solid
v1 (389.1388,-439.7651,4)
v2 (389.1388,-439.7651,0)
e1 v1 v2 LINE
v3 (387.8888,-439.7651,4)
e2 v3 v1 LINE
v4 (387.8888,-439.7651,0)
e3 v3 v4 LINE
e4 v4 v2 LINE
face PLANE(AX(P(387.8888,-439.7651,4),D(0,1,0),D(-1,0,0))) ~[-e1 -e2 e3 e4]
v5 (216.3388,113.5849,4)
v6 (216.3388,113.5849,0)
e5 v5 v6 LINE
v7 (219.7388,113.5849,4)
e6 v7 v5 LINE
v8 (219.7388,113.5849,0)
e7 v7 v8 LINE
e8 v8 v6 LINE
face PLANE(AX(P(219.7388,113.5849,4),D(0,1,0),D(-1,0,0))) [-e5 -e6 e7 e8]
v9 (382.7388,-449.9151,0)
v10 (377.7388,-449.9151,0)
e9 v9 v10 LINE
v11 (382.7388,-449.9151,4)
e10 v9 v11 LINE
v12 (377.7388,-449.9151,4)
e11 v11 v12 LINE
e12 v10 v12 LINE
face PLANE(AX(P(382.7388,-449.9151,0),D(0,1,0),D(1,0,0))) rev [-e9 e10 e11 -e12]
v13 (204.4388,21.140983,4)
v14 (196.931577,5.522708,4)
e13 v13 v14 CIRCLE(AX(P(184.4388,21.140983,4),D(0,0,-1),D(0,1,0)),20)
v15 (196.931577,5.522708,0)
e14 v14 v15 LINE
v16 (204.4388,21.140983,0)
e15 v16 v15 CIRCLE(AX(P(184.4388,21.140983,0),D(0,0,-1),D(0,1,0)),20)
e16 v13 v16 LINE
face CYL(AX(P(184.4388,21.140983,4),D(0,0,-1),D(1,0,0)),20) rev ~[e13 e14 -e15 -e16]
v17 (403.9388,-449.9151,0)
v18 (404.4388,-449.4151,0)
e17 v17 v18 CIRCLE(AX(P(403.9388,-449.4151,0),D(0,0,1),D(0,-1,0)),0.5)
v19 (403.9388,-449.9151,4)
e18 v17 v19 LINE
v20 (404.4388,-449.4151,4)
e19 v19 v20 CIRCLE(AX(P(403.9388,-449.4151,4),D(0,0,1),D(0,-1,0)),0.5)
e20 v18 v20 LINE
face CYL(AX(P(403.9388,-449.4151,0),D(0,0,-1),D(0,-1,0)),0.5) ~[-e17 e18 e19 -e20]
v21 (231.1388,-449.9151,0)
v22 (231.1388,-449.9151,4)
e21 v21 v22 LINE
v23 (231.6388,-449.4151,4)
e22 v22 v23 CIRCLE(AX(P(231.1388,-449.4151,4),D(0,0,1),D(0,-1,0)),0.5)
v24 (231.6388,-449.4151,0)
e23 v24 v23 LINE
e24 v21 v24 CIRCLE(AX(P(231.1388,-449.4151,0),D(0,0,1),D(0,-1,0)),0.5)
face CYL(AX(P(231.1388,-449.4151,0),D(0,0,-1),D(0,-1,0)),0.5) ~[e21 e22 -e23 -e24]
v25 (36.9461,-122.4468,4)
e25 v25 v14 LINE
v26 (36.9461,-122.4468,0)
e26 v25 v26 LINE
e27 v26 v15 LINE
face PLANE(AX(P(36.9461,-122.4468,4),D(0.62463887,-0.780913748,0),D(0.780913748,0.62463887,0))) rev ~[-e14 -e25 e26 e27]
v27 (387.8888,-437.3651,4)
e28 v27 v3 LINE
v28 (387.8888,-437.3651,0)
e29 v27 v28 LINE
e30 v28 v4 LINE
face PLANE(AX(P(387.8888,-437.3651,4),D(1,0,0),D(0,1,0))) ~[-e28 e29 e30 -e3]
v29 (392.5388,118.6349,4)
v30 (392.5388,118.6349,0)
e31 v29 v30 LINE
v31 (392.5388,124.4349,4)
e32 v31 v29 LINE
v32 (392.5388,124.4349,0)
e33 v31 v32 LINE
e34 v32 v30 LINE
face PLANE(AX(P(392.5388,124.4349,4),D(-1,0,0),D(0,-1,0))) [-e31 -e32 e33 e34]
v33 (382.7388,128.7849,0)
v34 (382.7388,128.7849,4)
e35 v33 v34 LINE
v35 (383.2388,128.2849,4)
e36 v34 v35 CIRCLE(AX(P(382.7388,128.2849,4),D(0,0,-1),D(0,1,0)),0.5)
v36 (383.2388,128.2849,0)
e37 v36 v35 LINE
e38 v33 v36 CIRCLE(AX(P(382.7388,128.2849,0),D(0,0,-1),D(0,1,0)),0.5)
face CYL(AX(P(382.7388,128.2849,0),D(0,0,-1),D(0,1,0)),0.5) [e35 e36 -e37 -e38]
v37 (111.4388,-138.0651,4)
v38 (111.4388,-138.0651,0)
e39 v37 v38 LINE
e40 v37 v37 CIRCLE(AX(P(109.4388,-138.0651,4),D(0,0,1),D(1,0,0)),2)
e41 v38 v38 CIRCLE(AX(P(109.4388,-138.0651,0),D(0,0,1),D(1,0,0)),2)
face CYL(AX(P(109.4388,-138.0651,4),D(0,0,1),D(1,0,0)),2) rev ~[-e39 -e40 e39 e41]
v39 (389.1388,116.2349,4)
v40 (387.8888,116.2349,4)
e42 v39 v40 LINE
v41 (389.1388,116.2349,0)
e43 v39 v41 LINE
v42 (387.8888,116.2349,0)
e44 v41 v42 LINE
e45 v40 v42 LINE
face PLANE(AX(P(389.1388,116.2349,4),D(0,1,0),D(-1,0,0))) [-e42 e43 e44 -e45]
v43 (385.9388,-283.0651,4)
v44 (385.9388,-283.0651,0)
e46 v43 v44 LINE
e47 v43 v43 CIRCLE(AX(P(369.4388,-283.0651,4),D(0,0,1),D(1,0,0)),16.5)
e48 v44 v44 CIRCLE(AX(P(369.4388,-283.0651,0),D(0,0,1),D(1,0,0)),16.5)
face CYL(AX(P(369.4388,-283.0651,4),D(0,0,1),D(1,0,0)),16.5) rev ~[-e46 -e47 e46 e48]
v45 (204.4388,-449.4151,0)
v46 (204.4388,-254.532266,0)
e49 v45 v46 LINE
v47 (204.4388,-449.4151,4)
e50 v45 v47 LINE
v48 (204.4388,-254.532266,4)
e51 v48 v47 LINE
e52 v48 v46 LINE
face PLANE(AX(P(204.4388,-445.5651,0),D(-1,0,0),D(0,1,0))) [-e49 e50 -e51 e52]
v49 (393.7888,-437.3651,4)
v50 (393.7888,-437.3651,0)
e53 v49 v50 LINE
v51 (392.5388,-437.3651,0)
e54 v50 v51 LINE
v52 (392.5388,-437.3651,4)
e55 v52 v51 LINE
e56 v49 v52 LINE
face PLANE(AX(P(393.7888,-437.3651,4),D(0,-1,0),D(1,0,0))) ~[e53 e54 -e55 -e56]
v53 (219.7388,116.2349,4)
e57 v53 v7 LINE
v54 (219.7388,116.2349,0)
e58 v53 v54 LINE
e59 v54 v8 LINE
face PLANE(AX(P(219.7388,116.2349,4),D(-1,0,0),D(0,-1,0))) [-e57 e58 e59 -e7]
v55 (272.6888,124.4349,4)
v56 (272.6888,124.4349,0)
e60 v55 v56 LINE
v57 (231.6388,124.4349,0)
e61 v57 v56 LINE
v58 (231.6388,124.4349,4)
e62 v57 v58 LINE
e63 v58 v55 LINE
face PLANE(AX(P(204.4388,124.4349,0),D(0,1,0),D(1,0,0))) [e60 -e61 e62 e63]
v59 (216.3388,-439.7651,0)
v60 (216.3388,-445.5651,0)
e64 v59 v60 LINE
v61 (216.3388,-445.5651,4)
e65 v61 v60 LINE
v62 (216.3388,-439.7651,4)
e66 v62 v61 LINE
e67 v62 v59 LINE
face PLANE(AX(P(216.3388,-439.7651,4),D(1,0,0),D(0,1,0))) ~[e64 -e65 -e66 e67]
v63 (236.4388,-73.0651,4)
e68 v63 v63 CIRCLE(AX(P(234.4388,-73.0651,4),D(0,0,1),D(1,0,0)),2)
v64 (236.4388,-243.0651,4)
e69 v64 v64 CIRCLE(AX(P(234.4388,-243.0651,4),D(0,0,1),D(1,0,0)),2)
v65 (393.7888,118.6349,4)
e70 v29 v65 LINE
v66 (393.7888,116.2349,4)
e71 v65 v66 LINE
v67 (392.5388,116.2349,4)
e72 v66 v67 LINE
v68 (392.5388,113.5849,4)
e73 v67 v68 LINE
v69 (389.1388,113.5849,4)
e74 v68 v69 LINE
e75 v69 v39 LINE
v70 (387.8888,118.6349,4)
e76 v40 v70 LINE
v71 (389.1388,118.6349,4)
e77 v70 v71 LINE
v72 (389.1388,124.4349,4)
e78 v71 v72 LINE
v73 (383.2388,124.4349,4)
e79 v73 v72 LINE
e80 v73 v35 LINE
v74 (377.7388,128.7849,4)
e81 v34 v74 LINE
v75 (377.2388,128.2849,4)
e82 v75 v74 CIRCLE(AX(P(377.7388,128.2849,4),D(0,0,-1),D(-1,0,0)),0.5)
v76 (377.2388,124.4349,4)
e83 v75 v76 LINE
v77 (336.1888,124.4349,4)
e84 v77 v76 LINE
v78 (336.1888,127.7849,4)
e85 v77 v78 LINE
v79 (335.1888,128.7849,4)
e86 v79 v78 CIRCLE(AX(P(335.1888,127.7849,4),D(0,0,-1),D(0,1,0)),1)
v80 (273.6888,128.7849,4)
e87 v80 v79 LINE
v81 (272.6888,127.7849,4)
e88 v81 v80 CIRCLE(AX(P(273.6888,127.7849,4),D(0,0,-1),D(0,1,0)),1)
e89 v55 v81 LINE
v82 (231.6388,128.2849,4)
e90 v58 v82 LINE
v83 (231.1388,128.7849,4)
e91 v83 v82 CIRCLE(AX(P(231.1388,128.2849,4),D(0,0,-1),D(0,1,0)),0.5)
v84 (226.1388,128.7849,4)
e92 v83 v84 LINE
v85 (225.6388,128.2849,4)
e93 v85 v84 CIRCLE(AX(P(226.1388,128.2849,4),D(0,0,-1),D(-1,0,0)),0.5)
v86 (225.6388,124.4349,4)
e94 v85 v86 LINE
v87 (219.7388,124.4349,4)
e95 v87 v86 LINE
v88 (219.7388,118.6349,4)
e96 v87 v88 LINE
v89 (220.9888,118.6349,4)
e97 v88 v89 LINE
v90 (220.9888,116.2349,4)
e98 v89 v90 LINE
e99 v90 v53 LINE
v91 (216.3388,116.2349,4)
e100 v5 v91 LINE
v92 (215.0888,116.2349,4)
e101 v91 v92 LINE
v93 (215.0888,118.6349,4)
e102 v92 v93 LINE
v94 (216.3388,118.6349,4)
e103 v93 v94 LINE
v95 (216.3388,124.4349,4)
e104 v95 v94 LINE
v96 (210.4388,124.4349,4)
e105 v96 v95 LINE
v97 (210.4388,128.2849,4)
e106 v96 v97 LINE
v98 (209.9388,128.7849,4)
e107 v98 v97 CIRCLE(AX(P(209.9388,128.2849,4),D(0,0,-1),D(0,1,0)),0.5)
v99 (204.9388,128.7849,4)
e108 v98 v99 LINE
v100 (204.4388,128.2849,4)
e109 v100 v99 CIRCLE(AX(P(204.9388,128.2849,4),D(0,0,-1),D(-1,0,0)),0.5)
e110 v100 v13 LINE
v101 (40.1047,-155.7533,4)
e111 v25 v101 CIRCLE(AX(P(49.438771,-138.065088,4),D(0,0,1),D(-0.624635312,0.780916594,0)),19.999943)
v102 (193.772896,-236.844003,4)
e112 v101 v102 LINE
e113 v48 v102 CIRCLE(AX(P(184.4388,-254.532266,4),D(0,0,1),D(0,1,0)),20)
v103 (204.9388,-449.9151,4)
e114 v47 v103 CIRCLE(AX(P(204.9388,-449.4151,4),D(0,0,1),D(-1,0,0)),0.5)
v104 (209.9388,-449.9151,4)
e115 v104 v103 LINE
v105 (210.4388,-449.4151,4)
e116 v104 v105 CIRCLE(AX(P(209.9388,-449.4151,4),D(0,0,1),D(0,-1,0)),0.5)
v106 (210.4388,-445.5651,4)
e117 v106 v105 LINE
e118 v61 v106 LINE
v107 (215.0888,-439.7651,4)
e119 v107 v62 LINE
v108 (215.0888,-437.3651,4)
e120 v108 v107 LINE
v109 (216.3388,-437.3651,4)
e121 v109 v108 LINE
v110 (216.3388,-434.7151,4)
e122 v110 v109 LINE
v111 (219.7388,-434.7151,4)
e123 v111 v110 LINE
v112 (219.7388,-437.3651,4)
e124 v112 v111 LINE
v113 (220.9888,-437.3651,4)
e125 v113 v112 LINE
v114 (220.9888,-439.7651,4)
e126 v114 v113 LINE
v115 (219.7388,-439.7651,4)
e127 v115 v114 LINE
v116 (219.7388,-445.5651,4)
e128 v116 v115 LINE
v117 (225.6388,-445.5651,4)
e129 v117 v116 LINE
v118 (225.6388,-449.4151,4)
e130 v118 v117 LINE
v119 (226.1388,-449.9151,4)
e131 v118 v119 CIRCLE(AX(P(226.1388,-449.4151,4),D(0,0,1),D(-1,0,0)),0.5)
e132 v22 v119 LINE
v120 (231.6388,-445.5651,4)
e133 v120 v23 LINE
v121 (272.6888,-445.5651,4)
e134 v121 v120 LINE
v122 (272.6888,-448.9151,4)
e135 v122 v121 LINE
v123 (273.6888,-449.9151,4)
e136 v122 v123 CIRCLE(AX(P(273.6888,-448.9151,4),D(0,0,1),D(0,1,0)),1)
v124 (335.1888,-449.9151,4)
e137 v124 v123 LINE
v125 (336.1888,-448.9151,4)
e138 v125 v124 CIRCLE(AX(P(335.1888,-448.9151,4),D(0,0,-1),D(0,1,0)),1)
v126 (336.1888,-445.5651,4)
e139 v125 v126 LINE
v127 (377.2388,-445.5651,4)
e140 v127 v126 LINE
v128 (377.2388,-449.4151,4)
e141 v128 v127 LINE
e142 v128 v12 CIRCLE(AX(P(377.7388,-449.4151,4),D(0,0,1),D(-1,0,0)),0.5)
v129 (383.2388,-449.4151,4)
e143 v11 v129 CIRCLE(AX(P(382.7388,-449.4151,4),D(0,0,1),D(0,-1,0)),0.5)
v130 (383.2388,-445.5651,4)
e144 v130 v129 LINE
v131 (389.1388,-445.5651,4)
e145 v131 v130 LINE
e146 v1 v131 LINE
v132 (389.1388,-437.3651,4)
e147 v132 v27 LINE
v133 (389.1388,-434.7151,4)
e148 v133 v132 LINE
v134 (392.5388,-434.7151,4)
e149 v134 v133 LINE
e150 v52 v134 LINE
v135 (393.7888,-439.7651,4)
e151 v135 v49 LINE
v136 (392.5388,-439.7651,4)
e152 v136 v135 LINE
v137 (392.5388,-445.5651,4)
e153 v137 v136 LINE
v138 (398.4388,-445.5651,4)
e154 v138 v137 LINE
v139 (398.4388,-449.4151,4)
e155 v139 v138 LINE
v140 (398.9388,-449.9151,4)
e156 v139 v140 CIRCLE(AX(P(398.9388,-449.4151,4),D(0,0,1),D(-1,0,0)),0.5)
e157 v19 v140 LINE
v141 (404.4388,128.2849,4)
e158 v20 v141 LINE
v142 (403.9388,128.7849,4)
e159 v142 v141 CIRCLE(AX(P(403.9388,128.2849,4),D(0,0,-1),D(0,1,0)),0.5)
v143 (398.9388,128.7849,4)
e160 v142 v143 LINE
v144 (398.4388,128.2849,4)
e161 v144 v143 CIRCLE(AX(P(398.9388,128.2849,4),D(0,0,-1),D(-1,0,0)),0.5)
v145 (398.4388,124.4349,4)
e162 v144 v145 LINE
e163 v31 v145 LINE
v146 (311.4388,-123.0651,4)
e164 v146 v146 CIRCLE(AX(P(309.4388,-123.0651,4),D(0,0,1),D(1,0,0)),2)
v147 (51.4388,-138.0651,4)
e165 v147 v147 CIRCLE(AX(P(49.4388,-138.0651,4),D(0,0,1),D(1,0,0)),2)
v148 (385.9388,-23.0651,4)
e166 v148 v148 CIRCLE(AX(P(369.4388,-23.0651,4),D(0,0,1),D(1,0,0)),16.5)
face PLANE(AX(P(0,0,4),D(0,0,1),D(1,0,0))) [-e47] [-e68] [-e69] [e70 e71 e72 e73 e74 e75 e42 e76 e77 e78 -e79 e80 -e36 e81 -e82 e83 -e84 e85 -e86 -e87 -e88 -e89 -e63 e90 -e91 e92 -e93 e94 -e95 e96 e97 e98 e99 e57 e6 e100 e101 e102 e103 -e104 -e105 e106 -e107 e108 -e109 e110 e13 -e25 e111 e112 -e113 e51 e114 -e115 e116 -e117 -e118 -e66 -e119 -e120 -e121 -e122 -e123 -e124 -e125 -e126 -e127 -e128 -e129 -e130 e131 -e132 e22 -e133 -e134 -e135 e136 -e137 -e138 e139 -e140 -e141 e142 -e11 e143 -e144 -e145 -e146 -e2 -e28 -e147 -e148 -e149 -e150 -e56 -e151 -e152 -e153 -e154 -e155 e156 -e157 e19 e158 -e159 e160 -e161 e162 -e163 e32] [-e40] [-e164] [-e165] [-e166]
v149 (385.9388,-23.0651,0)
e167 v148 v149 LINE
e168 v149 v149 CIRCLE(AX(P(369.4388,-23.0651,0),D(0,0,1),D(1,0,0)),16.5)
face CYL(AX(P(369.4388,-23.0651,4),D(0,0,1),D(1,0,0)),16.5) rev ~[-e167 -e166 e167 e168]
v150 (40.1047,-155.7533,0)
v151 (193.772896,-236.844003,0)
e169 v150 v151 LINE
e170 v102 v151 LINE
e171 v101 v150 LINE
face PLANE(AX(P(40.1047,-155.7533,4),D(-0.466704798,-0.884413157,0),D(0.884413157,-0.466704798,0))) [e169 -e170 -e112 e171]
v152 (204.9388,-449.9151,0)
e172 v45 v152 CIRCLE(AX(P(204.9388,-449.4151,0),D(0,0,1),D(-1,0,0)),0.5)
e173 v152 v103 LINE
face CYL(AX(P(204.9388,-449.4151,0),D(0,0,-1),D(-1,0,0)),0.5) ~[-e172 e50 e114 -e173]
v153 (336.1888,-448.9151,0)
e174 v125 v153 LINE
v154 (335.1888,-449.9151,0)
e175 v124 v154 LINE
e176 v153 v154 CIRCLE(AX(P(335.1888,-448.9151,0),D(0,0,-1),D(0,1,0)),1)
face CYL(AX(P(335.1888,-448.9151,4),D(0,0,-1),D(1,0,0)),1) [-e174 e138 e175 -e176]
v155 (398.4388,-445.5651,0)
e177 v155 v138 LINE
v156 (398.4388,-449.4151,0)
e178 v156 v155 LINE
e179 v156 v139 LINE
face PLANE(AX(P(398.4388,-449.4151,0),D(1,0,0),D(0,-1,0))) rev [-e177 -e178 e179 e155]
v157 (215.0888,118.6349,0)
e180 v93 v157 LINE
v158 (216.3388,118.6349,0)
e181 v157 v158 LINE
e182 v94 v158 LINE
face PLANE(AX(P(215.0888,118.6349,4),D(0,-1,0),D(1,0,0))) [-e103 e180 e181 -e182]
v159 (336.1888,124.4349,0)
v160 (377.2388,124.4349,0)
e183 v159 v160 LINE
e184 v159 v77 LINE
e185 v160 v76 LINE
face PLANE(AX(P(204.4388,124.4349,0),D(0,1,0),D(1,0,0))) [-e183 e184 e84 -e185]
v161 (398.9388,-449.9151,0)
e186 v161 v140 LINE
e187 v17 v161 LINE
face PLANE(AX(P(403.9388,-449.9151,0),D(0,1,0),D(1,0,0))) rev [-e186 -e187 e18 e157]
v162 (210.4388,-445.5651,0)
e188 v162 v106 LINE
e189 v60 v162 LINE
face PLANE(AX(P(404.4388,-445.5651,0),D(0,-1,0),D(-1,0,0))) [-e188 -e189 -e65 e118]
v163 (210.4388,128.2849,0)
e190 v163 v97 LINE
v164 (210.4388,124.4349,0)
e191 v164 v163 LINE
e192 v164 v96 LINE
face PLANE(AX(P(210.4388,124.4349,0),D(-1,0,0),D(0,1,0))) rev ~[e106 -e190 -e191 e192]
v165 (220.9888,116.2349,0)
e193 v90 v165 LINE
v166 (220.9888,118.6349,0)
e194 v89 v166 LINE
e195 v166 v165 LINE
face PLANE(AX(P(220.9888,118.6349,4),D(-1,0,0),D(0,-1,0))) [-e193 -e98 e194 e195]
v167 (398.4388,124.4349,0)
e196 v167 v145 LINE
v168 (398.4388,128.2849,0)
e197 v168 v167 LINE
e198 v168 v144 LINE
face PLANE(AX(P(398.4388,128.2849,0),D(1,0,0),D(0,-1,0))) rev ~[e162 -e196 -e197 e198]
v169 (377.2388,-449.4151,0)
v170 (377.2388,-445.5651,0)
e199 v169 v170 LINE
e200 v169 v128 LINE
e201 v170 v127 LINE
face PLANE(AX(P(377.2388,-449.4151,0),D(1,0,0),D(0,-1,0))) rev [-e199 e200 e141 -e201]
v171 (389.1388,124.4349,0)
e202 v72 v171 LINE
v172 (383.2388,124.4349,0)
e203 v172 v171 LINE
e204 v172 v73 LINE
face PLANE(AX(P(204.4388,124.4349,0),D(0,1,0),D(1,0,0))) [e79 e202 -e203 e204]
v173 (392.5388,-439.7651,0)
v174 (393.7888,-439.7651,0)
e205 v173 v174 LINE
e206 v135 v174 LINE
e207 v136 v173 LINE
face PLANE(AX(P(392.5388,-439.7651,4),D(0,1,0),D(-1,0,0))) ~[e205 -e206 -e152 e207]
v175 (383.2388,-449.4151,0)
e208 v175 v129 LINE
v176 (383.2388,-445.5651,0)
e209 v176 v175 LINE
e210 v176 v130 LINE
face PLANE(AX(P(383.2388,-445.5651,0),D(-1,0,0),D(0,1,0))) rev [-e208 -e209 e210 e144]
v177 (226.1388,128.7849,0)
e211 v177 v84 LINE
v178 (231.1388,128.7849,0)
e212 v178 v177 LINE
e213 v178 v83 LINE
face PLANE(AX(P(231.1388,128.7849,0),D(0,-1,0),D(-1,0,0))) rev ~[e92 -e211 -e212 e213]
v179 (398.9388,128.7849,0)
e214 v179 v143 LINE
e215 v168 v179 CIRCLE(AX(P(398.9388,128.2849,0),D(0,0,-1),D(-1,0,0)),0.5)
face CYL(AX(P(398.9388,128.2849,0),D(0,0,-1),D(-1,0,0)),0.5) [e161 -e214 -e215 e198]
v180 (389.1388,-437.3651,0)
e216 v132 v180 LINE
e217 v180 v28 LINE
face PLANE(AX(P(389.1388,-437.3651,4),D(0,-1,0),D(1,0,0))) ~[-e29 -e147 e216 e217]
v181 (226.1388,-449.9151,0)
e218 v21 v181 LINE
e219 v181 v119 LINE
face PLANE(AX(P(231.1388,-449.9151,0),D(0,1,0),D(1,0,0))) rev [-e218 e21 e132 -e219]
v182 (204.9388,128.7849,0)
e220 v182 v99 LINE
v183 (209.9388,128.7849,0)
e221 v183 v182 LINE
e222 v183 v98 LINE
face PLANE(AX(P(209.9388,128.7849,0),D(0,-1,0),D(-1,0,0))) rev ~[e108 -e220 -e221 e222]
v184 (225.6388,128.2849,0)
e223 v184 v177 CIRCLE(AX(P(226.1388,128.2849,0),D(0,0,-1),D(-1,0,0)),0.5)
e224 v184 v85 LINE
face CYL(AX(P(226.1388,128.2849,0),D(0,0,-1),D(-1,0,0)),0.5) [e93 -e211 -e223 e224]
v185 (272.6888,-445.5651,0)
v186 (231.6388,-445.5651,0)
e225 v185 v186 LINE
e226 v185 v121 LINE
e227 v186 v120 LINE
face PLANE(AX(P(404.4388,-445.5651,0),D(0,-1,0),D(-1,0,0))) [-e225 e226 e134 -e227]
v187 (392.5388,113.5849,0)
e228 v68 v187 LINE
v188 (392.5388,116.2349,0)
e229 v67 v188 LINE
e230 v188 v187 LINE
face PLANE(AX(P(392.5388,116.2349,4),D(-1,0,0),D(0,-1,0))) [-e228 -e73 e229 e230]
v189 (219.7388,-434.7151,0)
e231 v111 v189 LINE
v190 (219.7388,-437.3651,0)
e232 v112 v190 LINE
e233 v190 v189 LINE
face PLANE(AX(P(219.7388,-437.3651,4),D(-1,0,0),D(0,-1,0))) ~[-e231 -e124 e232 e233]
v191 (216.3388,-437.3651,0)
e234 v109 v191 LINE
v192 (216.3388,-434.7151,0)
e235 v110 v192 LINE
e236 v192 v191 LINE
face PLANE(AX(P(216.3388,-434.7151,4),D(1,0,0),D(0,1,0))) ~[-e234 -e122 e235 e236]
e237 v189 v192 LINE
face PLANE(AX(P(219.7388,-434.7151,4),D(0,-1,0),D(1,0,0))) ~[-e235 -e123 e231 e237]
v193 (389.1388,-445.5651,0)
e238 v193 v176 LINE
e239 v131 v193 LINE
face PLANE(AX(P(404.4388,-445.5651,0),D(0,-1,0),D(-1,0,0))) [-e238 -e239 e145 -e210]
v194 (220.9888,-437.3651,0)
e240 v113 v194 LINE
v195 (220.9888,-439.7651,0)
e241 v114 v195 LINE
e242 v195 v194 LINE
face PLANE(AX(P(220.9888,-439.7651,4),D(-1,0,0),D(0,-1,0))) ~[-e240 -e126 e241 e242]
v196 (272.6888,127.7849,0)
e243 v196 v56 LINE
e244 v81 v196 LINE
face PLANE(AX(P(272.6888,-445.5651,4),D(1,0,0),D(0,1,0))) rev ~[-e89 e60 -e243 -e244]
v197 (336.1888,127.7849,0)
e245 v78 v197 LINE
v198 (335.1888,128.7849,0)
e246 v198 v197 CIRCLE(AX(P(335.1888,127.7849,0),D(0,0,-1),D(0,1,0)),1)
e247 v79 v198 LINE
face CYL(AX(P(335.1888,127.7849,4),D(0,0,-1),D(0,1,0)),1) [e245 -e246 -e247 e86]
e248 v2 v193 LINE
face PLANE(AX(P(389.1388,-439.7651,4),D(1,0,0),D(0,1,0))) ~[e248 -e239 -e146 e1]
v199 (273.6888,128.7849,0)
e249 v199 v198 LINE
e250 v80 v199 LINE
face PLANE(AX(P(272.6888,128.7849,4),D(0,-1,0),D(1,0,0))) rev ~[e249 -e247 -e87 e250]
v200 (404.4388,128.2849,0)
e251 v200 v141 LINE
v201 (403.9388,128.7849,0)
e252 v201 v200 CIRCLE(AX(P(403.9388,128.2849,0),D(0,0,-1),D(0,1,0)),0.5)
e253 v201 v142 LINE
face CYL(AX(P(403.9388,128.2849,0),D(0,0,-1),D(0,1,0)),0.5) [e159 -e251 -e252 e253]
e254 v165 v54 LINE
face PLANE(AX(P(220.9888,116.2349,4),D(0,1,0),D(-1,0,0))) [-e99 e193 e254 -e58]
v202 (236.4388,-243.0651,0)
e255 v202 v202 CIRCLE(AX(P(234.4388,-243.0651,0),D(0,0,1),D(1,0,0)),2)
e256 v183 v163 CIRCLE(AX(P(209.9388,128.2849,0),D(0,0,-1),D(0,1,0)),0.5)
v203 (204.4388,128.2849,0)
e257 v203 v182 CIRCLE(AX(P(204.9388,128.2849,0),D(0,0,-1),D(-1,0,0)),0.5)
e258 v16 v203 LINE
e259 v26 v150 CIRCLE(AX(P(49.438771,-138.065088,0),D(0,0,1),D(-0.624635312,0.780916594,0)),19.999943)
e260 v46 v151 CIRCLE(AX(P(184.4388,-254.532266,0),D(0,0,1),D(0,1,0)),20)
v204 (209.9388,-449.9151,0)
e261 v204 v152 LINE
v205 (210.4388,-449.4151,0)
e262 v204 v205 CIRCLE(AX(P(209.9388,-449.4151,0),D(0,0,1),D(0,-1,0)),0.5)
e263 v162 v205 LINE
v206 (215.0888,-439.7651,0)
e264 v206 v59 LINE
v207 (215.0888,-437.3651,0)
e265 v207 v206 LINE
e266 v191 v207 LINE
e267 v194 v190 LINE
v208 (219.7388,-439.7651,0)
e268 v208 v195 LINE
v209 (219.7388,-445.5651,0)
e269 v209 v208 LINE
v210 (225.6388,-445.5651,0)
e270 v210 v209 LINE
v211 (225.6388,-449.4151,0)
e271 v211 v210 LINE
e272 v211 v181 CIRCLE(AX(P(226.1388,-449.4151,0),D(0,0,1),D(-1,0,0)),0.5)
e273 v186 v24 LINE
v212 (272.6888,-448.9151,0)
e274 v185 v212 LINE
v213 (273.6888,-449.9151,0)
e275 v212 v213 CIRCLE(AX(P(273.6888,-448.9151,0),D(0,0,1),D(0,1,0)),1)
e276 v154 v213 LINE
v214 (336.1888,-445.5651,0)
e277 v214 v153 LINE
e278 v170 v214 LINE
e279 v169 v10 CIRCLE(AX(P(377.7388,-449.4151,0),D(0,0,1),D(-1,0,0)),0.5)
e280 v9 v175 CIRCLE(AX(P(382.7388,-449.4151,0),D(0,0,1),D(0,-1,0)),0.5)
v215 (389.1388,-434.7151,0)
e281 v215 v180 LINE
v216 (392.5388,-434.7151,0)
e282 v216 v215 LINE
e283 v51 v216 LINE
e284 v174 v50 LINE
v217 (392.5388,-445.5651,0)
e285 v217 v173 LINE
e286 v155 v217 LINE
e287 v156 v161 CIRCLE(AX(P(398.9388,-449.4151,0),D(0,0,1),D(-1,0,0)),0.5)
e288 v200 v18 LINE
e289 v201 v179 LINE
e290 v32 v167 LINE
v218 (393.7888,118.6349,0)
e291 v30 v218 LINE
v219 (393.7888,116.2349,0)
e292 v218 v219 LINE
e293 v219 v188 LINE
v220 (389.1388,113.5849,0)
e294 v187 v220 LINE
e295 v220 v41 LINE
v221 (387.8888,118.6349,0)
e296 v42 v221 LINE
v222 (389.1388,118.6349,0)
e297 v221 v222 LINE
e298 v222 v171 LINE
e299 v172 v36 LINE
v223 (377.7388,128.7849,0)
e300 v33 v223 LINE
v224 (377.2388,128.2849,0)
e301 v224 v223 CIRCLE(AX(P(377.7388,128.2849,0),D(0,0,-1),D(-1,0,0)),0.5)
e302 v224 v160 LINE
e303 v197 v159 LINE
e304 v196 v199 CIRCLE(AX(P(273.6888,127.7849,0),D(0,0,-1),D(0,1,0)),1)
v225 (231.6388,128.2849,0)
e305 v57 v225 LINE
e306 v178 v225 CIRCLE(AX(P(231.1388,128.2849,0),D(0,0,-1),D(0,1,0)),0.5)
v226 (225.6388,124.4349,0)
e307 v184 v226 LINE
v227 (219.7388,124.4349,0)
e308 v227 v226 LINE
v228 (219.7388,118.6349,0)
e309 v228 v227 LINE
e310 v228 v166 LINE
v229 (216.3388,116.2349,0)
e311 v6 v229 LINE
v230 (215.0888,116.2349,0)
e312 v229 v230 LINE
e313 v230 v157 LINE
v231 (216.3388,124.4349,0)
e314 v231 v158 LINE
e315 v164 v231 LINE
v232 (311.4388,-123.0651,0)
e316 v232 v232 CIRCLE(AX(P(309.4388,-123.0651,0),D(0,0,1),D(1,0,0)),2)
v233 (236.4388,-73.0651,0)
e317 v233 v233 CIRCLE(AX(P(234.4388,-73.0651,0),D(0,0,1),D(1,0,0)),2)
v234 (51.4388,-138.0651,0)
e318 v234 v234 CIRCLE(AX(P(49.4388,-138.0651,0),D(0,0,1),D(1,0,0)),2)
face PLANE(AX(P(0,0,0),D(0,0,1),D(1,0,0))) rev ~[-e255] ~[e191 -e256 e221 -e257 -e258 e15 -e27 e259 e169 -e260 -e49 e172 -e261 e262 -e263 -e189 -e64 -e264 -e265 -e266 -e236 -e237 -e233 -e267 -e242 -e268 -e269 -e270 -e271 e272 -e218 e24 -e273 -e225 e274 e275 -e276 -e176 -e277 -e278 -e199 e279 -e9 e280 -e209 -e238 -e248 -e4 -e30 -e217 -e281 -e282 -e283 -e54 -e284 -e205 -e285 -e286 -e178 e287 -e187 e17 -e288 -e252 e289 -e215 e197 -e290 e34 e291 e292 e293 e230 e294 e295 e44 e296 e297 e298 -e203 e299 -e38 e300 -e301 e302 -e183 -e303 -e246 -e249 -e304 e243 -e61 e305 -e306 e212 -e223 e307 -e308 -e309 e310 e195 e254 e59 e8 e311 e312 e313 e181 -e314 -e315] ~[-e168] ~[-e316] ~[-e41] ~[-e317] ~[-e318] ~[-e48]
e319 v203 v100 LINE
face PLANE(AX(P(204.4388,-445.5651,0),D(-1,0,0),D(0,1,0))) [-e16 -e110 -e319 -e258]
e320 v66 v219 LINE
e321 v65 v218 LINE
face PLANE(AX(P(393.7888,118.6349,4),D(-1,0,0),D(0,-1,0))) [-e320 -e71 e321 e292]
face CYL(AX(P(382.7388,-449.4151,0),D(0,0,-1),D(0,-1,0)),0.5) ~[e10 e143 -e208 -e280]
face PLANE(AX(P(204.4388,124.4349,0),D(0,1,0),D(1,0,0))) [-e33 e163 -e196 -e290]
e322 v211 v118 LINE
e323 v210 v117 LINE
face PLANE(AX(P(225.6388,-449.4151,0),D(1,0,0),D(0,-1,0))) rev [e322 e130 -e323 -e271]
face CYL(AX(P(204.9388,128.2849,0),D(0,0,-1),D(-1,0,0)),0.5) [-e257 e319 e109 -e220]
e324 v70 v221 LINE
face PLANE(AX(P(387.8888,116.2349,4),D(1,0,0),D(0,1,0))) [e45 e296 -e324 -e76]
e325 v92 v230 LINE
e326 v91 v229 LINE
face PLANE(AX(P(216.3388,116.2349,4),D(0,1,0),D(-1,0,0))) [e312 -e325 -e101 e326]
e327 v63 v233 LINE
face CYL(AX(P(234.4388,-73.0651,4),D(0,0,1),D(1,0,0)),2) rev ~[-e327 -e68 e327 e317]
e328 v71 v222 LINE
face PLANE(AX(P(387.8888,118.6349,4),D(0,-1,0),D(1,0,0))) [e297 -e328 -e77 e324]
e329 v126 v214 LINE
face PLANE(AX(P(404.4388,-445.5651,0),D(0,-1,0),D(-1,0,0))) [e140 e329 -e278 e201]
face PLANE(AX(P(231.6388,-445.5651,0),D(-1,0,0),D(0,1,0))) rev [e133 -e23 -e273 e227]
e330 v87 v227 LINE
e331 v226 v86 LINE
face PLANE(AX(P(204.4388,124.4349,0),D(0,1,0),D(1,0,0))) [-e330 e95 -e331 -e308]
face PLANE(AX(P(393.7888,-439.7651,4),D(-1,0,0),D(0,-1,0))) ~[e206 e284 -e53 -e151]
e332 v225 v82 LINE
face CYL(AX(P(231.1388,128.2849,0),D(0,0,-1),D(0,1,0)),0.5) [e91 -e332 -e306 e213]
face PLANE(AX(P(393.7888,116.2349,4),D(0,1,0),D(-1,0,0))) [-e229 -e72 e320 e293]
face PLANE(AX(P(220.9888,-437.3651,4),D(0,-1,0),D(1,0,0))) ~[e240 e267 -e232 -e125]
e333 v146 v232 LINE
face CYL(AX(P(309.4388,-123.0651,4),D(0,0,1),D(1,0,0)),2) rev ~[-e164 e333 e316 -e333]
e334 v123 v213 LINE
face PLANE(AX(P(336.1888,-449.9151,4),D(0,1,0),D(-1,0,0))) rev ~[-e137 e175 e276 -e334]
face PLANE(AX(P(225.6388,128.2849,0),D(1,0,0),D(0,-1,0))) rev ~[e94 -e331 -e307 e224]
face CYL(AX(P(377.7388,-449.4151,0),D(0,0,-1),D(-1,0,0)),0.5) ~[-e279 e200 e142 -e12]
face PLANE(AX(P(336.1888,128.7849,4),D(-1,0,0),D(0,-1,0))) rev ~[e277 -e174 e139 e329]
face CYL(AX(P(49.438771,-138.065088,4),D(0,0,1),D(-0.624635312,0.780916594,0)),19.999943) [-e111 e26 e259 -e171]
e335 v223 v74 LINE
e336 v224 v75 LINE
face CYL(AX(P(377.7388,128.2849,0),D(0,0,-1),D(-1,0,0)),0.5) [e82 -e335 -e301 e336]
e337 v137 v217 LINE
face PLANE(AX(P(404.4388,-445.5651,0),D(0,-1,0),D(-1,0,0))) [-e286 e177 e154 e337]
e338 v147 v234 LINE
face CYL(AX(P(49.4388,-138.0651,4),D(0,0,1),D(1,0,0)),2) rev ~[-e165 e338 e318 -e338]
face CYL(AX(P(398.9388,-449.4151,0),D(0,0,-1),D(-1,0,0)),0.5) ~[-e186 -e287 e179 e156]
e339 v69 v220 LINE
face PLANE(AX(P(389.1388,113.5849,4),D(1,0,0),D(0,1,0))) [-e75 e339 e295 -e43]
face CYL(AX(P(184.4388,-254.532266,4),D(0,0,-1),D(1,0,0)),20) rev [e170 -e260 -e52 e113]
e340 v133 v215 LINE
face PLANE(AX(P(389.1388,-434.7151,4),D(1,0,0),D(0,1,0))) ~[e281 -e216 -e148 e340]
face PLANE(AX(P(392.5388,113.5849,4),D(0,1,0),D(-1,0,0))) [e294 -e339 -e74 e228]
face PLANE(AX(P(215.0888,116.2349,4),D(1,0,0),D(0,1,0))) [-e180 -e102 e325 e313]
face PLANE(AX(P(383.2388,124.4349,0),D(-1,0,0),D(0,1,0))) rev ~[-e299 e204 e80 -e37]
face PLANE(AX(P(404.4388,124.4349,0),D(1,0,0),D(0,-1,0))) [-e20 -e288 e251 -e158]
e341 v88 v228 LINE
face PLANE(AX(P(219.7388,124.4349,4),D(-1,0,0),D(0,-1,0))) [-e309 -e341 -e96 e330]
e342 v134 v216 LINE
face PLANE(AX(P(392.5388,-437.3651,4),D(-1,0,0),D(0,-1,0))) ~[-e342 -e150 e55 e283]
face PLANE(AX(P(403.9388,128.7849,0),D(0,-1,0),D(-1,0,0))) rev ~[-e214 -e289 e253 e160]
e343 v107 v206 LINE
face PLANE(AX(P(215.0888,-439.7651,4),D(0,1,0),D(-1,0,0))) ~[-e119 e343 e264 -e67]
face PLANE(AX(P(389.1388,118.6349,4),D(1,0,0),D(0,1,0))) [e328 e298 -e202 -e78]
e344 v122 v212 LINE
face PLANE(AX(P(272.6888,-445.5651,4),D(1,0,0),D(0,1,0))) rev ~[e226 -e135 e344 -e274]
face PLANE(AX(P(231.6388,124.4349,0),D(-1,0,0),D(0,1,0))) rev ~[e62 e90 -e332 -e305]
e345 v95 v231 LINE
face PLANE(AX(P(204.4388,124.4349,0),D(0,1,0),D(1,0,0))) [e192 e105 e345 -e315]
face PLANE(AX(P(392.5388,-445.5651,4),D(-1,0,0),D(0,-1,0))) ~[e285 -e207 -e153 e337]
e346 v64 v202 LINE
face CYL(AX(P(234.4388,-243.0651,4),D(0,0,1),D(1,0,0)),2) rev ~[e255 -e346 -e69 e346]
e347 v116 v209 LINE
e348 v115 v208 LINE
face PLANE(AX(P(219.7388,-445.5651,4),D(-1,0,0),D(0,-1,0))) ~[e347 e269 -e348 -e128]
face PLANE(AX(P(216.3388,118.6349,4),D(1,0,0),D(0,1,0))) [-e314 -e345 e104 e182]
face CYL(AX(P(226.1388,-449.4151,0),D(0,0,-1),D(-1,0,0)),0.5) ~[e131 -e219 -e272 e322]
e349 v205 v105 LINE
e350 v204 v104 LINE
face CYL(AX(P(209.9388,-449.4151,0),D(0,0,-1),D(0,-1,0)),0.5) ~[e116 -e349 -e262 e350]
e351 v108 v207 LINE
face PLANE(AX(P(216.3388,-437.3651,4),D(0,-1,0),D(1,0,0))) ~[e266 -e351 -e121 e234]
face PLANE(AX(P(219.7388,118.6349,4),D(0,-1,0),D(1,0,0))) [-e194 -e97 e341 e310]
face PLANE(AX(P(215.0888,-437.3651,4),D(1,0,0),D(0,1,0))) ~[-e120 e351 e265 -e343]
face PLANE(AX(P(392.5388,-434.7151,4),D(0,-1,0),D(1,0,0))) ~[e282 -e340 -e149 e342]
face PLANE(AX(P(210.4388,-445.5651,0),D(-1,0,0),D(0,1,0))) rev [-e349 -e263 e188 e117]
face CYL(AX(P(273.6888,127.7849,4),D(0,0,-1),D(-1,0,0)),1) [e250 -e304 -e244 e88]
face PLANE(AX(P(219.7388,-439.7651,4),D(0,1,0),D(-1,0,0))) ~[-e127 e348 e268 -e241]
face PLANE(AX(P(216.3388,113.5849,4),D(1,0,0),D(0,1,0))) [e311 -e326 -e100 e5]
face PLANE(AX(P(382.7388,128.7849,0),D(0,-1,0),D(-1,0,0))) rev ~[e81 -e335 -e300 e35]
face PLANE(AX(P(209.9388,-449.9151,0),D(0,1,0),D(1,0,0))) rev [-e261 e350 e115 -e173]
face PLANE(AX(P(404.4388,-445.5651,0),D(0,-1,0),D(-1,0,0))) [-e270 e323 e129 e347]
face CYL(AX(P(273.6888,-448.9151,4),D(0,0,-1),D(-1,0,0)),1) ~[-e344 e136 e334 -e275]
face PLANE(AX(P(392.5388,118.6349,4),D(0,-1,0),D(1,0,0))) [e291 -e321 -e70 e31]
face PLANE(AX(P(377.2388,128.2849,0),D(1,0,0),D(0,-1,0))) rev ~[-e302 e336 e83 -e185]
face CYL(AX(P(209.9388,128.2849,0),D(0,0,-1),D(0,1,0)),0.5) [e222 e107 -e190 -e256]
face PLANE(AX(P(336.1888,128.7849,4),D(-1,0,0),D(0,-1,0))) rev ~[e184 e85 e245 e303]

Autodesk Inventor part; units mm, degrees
ref_plane "YZ Plane" through (0, 0, 0) normal (1, 0, 0) x (0, 1, 0)
ref_plane "XZ Plane" through (0, 0, 0) normal (0, 1, 0) x (-1, 0, 0)
ref_plane "XY Plane" through (0, 0, 0) normal (0, 0, 1) x (1, 0, 0)
sketch "Sketch2" plane through (0, 0, 0) normal (0, 0, 1) x (1, 0, 0)
  line L0 (204.4388, 124.4349) -> (404.4388, 124.4349)
  line L1 (404.4388, 124.4349) -> (404.4388, -445.5651)
  line L2 (404.4388, -445.5651) -> (204.4388, -445.5651)
  line L3 (204.4388, -445.5651) -> (204.4388, 124.4349)
  point P0 (0, 0)
  point P1 (1605.8001, 124.4349)
  point P2 (1605.8004, -445.5651)
  dimension "d0" = 200
extrude "Extrusion1" add sketch "Sketch2" along normal blind 4
sketch "Sketch3" plane through (0, 0, 4) normal (0, 0, 1) x (1, 0, 0)
  arc A0 (204.9388, 128.7849) -> (204.4388, 128.2849) centre (204.9388, 128.2849) ccw projected
  line L0 (204.4388, 124.4349) -> (204.4388, 128.2849) projected
  line L1 (197.563, 124.4349) -> (204.4388, 124.4349) projected
  line L2 (197.563, 109.7813) -> (197.563, 124.4349) projected
  line L3 (238.5147, 109.7813) -> (197.563, 109.7813) projected
  line L4 (238.5147, 124.4349) -> (238.5147, 109.7813) projected
  line L5 (231.6388, 124.4349) -> (238.5147, 124.4349) projected
  line L6 (231.6388, 128.2849) -> (231.6388, 124.4349) projected
  arc A1 (231.6388, 128.2849) -> (231.1388, 128.7849) centre (231.1388, 128.2849) ccw projected
  line L7 (231.1388, 128.7849) -> (226.1388, 128.7849) projected
  arc A2 (226.1388, 128.7849) -> (225.6388, 128.2849) centre (226.1388, 128.2849) ccw projected
  line L8 (225.6388, 124.4349) -> (225.6388, 128.2849) projected
  line L9 (219.7388, 124.4349) -> (225.6388, 124.4349) projected
  line L10 (219.7388, 124.4349) -> (219.7388, 118.6349) projected
  line L11 (219.7388, 118.6349) -> (220.9888, 118.6349) projected
  line L12 (220.9888, 118.6349) -> (220.9888, 116.2349) projected
  line L13 (220.9888, 116.2349) -> (219.7388, 116.2349) projected
  line L14 (219.7388, 116.2349) -> (219.7388, 113.5849) projected
  line L15 (219.7388, 113.5849) -> (216.3388, 113.5849) projected
  line L16 (216.3388, 113.5849) -> (216.3388, 116.2349) projected
  line L17 (216.3388, 116.2349) -> (215.0888, 116.2349) projected
  line L18 (215.0888, 116.2349) -> (215.0888, 118.6349) projected
  line L19 (215.0888, 118.6349) -> (216.3388, 118.6349) projected
  line L20 (216.3388, 118.6349) -> (216.3388, 124.4349) projected
  line L21 (210.4388, 124.4349) -> (216.3388, 124.4349) projected
  line L22 (210.4388, 128.2849) -> (210.4388, 124.4349) projected
  arc A3 (210.4388, 128.2849) -> (209.9388, 128.7849) centre (209.9388, 128.2849) ccw projected
  line L23 (209.9388, 128.7849) -> (204.9388, 128.7849) projected
  arc A4 (377.7388, 128.7849) -> (377.2388, 128.2849) centre (377.7388, 128.2849) ccw projected
  line L24 (377.2388, 124.4349) -> (377.2388, 128.2849) projected
  line L25 (370.363, 124.4349) -> (377.2388, 124.4349) projected
  line L26 (370.363, 109.7813) -> (370.363, 124.4349) projected
  line L27 (411.3147, 109.7813) -> (370.363, 109.7813) projected
  line L28 (411.3147, 124.4349) -> (411.3147, 109.7813) projected
  line L29 (404.4388, 124.4349) -> (411.3147, 124.4349) projected
  line L30 (404.4388, 128.2849) -> (404.4388, 124.4349) projected
  arc A5 (404.4388, 128.2849) -> (403.9388, 128.7849) centre (403.9388, 128.2849) ccw projected
  line L31 (403.9388, 128.7849) -> (398.9388, 128.7849) projected
  arc A6 (398.9388, 128.7849) -> (398.4388, 128.2849) centre (398.9388, 128.2849) ccw projected
  line L32 (398.4388, 124.4349) -> (398.4388, 128.2849) projected
  line L33 (392.5388, 124.4349) -> (398.4388, 124.4349) projected
  line L34 (392.5388, 124.4349) -> (392.5388, 118.6349) projected
  line L35 (392.5388, 118.6349) -> (393.7888, 118.6349) projected
  line L36 (393.7888, 118.6349) -> (393.7888, 116.2349) projected
  line L37 (393.7888, 116.2349) -> (392.5388, 116.2349) projected
  line L38 (392.5388, 116.2349) -> (392.5388, 113.5849) projected
  line L39 (392.5388, 113.5849) -> (389.1388, 113.5849) projected
  line L40 (389.1388, 113.5849) -> (389.1388, 116.2349) projected
  line L41 (389.1388, 116.2349) -> (387.8888, 116.2349) projected
  line L42 (387.8888, 116.2349) -> (387.8888, 118.6349) projected
  line L43 (387.8888, 118.6349) -> (389.1388, 118.6349) projected
  line L44 (389.1388, 118.6349) -> (389.1388, 124.4349) projected
  line L45 (383.2388, 124.4349) -> (389.1388, 124.4349) projected
  line L46 (383.2388, 128.2849) -> (383.2388, 124.4349) projected
  arc A7 (383.2388, 128.2849) -> (382.7388, 128.7849) centre (382.7388, 128.2849) ccw projected
  line L47 (382.7388, 128.7849) -> (377.7388, 128.7849) projected
  line L48 (216.3388, 124.4349) -> (219.7388, 124.4349)
  line L49 (404.4388, 124.4349) -> (204.4388, 124.4349) projected
  line L50 (389.1388, 124.4349) -> (392.5388, 124.4349)
  point P0 (0, 0)
extrude "Extrusion2" cut sketch "Sketch3" against normal blind 4 contours L48 L10 L11 L12 L13 L14 L15 L16 L17 L18 L19 L20 | L49 L34 L35 L36 L37 L38 L39 L40 L41 L42 L43 L44
sketch "Sketch5" plane through (0, 0, 0) normal (0, 0, -1) x (-1, 0, 0)
  line L0 (-210.4388, 124.4349) -> (-204.4388, 124.4349) projected
  line L1 (-204.4388, 128.2849) -> (-204.4388, 124.4349) projected
  arc A0 (-204.4388, 128.2849) -> (-204.9388, 128.7849) centre (-204.9388, 128.2849) ccw projected
  line L2 (-209.9388, 128.7849) -> (-204.9388, 128.7849) projected
  arc A1 (-209.9388, 128.7849) -> (-210.4388, 128.2849) centre (-209.9388, 128.2849) ccw projected
  line L3 (-210.4388, 124.4349) -> (-210.4388, 128.2849) projected
  line L4 (-231.6388, 124.4349) -> (-225.6388, 124.4349) projected
  line L5 (-225.6388, 128.2849) -> (-225.6388, 124.4349) projected
  arc A2 (-225.6388, 128.2849) -> (-226.1388, 128.7849) centre (-226.1388, 128.2849) ccw projected
  line L6 (-231.1388, 128.7849) -> (-226.1388, 128.7849) projected
  arc A3 (-231.1388, 128.7849) -> (-231.6388, 128.2849) centre (-231.1388, 128.2849) ccw projected
  line L7 (-231.6388, 124.4349) -> (-231.6388, 128.2849) projected
  line L8 (-383.2388, 124.4349) -> (-377.2388, 124.4349) projected
  line L9 (-377.2388, 128.2849) -> (-377.2388, 124.4349) projected
  arc A4 (-377.2388, 128.2849) -> (-377.7388, 128.7849) centre (-377.7388, 128.2849) ccw projected
  line L10 (-382.7388, 128.7849) -> (-377.7388, 128.7849) projected
  arc A5 (-382.7388, 128.7849) -> (-383.2388, 128.2849) centre (-382.7388, 128.2849) ccw projected
  line L11 (-383.2388, 124.4349) -> (-383.2388, 128.2849) projected
  line L12 (-404.4388, 124.4349) -> (-398.4388, 124.4349) projected
  line L13 (-398.4388, 128.2849) -> (-398.4388, 124.4349) projected
  arc A6 (-398.4388, 128.2849) -> (-398.9388, 128.7849) centre (-398.9388, 128.2849) ccw projected
  line L14 (-403.9388, 128.7849) -> (-398.9388, 128.7849) projected
  arc A7 (-403.9388, 128.7849) -> (-404.4388, 128.2849) centre (-403.9388, 128.2849) ccw projected
  line L15 (-404.4388, 124.4349) -> (-404.4388, 128.2849) projected
  point P0 (0, 0)
extrude "Extrusion4" add sketch "Sketch5" against normal blind 4
sketch "Sketch6" plane through (0, 0, 0) normal (0, 0, -1) x (-1, 0, 0)
  line L0 (-216.3388, 124.4349) -> (-216.3388, 118.6349) construction
  line L1 (-219.7388, 118.6349) -> (-219.7388, 124.4349) construction
  line L2 (-216.3388, 123.5848) -> (-219.7388, 123.5848)
  line L3 (-219.7388, 123.5848) -> (-219.7388, 126.4497)
  line L4 (-219.7388, 126.4497) -> (-216.3388, 126.4497)
  line L5 (-216.3388, 126.4497) -> (-216.3388, 123.5848)
  point P0 (0, 0)
extrude "Extrusion5" cut sketch "Sketch6" against normal through all
ref_plane "Work Plane1" through (204.4388, -160.5651, 0) normal (0, -1, 0) x (1, 0, 0)
mirror "Mirror1" about plane through (204.4388, -160.5651, 0) normal (0, -1, 0) of "Extrusion4", "Extrusion2"
sketch "Sketch7" plane through (0, 0, 4) normal (0, 0, 1) x (1, 0, 0)
  circle A0 centre (234.4388, -243.0651) radius 2 projected
  circle A1 centre (234.4388, -73.0651) radius 2 projected
  circle A2 centre (309.4388, -123.0651) radius 2 projected
  point P0 (0, 0)
sketch "Sketch8" plane through (0, 0, 4) normal (0, 0, 1) x (1, 0, 0)
  line L0 (204.4388, 124.4349) -> (204.4388, -445.5651) construction
  line L1 (196.4388, -445.5651) -> (553.2389, -445.5651) projected
  line L2 (377.2388, -445.5651) -> (231.6388, -445.5651) construction
  line L3 (304.4388, -445.5651) -> (304.4388, 124.4349) construction
  line L4 (377.2388, 124.4349) -> (231.6388, 124.4349) construction
  line L5 (336.1888, 128.7849) -> (336.1888, -449.9151)
  line L6 (336.1888, -449.9151) -> (272.6888, -449.9151)
  line L7 (272.6888, -449.9151) -> (272.6888, 128.7849)
  line L8 (272.6888, 128.7849) -> (336.1888, 128.7849)
  line L9 (336.1888, 128.7849) -> (272.6888, -449.9151) construction
  line L10 (336.1888, -449.9151) -> (272.6888, 128.7849) construction
  line L11 (231.1388, -449.9151) -> (226.1388, -449.9151) projected
  point P0 (0, 0)
  point P1 (304.4388, -160.5651)
  dimension "d11" = 63.5
extrude "Extrusion6" add sketch "Sketch8" against normal blind 4
fillet "Fillet1" radius 1 4 edges at (272.6888, -449.9151, 2) (336.1888, -449.9151, 2) (272.6888, 128.7849, 2) (336.1888, 128.7849, 2)
sketch "Sketch9" plane through (0, 0, 4) normal (0, 0, 1) x (1, 0, 0)
  circle A0 centre (49.4388, -138.0651) radius 2 projected
  circle A1 centre (109.4388, -138.0651) radius 2 projected
  arc A2 (36.9461, -122.4468) -> (40.1047, -155.7533) centre (49.4388, -138.0651) ccw
  line L0 (36.9461, -122.4468) -> (204.4388, 11.5276)
  line L1 (204.4388, -445.5651) -> (204.4388, 124.4349) projected
  line L2 (40.1047, -155.7533) -> (204.4388, -242.4724)
  point P0 (0, 0)
  dimension "d15" = 40
  dimension "d16" = 254
extrude "Extrusion7" add sketch "Sketch9" against normal blind 4
fillet "Fillet2" radius 20 2 edges at (204.4388, 11.5276, 2) (204.4388, -242.4724, 2)
extrude "Extrusion8" cut sketch "Sketch7" against normal blind 4
sketch "Sketch10" plane through (0, 0, 4) normal (0, 0, 1) x (1, 0, 0)
  circle A0 centre (369.4388, -283.0651) radius 11.5 projected
  circle A1 centre (369.4388, -23.0651) radius 11.5 projected
  circle A2 centre (369.4388, -283.0651) radius 16.5
  circle A3 centre (369.4388, -23.0651) radius 16.5
  point P0 (0, 0)
  dimension "d22" = 5
  dimension "d23" = 5
extrude "Extrusion9" cut sketch "Sketch10" against normal blind 25.4 contours A0 | A1 | A2 | A3
properties part number "ProjectorMount 1"
